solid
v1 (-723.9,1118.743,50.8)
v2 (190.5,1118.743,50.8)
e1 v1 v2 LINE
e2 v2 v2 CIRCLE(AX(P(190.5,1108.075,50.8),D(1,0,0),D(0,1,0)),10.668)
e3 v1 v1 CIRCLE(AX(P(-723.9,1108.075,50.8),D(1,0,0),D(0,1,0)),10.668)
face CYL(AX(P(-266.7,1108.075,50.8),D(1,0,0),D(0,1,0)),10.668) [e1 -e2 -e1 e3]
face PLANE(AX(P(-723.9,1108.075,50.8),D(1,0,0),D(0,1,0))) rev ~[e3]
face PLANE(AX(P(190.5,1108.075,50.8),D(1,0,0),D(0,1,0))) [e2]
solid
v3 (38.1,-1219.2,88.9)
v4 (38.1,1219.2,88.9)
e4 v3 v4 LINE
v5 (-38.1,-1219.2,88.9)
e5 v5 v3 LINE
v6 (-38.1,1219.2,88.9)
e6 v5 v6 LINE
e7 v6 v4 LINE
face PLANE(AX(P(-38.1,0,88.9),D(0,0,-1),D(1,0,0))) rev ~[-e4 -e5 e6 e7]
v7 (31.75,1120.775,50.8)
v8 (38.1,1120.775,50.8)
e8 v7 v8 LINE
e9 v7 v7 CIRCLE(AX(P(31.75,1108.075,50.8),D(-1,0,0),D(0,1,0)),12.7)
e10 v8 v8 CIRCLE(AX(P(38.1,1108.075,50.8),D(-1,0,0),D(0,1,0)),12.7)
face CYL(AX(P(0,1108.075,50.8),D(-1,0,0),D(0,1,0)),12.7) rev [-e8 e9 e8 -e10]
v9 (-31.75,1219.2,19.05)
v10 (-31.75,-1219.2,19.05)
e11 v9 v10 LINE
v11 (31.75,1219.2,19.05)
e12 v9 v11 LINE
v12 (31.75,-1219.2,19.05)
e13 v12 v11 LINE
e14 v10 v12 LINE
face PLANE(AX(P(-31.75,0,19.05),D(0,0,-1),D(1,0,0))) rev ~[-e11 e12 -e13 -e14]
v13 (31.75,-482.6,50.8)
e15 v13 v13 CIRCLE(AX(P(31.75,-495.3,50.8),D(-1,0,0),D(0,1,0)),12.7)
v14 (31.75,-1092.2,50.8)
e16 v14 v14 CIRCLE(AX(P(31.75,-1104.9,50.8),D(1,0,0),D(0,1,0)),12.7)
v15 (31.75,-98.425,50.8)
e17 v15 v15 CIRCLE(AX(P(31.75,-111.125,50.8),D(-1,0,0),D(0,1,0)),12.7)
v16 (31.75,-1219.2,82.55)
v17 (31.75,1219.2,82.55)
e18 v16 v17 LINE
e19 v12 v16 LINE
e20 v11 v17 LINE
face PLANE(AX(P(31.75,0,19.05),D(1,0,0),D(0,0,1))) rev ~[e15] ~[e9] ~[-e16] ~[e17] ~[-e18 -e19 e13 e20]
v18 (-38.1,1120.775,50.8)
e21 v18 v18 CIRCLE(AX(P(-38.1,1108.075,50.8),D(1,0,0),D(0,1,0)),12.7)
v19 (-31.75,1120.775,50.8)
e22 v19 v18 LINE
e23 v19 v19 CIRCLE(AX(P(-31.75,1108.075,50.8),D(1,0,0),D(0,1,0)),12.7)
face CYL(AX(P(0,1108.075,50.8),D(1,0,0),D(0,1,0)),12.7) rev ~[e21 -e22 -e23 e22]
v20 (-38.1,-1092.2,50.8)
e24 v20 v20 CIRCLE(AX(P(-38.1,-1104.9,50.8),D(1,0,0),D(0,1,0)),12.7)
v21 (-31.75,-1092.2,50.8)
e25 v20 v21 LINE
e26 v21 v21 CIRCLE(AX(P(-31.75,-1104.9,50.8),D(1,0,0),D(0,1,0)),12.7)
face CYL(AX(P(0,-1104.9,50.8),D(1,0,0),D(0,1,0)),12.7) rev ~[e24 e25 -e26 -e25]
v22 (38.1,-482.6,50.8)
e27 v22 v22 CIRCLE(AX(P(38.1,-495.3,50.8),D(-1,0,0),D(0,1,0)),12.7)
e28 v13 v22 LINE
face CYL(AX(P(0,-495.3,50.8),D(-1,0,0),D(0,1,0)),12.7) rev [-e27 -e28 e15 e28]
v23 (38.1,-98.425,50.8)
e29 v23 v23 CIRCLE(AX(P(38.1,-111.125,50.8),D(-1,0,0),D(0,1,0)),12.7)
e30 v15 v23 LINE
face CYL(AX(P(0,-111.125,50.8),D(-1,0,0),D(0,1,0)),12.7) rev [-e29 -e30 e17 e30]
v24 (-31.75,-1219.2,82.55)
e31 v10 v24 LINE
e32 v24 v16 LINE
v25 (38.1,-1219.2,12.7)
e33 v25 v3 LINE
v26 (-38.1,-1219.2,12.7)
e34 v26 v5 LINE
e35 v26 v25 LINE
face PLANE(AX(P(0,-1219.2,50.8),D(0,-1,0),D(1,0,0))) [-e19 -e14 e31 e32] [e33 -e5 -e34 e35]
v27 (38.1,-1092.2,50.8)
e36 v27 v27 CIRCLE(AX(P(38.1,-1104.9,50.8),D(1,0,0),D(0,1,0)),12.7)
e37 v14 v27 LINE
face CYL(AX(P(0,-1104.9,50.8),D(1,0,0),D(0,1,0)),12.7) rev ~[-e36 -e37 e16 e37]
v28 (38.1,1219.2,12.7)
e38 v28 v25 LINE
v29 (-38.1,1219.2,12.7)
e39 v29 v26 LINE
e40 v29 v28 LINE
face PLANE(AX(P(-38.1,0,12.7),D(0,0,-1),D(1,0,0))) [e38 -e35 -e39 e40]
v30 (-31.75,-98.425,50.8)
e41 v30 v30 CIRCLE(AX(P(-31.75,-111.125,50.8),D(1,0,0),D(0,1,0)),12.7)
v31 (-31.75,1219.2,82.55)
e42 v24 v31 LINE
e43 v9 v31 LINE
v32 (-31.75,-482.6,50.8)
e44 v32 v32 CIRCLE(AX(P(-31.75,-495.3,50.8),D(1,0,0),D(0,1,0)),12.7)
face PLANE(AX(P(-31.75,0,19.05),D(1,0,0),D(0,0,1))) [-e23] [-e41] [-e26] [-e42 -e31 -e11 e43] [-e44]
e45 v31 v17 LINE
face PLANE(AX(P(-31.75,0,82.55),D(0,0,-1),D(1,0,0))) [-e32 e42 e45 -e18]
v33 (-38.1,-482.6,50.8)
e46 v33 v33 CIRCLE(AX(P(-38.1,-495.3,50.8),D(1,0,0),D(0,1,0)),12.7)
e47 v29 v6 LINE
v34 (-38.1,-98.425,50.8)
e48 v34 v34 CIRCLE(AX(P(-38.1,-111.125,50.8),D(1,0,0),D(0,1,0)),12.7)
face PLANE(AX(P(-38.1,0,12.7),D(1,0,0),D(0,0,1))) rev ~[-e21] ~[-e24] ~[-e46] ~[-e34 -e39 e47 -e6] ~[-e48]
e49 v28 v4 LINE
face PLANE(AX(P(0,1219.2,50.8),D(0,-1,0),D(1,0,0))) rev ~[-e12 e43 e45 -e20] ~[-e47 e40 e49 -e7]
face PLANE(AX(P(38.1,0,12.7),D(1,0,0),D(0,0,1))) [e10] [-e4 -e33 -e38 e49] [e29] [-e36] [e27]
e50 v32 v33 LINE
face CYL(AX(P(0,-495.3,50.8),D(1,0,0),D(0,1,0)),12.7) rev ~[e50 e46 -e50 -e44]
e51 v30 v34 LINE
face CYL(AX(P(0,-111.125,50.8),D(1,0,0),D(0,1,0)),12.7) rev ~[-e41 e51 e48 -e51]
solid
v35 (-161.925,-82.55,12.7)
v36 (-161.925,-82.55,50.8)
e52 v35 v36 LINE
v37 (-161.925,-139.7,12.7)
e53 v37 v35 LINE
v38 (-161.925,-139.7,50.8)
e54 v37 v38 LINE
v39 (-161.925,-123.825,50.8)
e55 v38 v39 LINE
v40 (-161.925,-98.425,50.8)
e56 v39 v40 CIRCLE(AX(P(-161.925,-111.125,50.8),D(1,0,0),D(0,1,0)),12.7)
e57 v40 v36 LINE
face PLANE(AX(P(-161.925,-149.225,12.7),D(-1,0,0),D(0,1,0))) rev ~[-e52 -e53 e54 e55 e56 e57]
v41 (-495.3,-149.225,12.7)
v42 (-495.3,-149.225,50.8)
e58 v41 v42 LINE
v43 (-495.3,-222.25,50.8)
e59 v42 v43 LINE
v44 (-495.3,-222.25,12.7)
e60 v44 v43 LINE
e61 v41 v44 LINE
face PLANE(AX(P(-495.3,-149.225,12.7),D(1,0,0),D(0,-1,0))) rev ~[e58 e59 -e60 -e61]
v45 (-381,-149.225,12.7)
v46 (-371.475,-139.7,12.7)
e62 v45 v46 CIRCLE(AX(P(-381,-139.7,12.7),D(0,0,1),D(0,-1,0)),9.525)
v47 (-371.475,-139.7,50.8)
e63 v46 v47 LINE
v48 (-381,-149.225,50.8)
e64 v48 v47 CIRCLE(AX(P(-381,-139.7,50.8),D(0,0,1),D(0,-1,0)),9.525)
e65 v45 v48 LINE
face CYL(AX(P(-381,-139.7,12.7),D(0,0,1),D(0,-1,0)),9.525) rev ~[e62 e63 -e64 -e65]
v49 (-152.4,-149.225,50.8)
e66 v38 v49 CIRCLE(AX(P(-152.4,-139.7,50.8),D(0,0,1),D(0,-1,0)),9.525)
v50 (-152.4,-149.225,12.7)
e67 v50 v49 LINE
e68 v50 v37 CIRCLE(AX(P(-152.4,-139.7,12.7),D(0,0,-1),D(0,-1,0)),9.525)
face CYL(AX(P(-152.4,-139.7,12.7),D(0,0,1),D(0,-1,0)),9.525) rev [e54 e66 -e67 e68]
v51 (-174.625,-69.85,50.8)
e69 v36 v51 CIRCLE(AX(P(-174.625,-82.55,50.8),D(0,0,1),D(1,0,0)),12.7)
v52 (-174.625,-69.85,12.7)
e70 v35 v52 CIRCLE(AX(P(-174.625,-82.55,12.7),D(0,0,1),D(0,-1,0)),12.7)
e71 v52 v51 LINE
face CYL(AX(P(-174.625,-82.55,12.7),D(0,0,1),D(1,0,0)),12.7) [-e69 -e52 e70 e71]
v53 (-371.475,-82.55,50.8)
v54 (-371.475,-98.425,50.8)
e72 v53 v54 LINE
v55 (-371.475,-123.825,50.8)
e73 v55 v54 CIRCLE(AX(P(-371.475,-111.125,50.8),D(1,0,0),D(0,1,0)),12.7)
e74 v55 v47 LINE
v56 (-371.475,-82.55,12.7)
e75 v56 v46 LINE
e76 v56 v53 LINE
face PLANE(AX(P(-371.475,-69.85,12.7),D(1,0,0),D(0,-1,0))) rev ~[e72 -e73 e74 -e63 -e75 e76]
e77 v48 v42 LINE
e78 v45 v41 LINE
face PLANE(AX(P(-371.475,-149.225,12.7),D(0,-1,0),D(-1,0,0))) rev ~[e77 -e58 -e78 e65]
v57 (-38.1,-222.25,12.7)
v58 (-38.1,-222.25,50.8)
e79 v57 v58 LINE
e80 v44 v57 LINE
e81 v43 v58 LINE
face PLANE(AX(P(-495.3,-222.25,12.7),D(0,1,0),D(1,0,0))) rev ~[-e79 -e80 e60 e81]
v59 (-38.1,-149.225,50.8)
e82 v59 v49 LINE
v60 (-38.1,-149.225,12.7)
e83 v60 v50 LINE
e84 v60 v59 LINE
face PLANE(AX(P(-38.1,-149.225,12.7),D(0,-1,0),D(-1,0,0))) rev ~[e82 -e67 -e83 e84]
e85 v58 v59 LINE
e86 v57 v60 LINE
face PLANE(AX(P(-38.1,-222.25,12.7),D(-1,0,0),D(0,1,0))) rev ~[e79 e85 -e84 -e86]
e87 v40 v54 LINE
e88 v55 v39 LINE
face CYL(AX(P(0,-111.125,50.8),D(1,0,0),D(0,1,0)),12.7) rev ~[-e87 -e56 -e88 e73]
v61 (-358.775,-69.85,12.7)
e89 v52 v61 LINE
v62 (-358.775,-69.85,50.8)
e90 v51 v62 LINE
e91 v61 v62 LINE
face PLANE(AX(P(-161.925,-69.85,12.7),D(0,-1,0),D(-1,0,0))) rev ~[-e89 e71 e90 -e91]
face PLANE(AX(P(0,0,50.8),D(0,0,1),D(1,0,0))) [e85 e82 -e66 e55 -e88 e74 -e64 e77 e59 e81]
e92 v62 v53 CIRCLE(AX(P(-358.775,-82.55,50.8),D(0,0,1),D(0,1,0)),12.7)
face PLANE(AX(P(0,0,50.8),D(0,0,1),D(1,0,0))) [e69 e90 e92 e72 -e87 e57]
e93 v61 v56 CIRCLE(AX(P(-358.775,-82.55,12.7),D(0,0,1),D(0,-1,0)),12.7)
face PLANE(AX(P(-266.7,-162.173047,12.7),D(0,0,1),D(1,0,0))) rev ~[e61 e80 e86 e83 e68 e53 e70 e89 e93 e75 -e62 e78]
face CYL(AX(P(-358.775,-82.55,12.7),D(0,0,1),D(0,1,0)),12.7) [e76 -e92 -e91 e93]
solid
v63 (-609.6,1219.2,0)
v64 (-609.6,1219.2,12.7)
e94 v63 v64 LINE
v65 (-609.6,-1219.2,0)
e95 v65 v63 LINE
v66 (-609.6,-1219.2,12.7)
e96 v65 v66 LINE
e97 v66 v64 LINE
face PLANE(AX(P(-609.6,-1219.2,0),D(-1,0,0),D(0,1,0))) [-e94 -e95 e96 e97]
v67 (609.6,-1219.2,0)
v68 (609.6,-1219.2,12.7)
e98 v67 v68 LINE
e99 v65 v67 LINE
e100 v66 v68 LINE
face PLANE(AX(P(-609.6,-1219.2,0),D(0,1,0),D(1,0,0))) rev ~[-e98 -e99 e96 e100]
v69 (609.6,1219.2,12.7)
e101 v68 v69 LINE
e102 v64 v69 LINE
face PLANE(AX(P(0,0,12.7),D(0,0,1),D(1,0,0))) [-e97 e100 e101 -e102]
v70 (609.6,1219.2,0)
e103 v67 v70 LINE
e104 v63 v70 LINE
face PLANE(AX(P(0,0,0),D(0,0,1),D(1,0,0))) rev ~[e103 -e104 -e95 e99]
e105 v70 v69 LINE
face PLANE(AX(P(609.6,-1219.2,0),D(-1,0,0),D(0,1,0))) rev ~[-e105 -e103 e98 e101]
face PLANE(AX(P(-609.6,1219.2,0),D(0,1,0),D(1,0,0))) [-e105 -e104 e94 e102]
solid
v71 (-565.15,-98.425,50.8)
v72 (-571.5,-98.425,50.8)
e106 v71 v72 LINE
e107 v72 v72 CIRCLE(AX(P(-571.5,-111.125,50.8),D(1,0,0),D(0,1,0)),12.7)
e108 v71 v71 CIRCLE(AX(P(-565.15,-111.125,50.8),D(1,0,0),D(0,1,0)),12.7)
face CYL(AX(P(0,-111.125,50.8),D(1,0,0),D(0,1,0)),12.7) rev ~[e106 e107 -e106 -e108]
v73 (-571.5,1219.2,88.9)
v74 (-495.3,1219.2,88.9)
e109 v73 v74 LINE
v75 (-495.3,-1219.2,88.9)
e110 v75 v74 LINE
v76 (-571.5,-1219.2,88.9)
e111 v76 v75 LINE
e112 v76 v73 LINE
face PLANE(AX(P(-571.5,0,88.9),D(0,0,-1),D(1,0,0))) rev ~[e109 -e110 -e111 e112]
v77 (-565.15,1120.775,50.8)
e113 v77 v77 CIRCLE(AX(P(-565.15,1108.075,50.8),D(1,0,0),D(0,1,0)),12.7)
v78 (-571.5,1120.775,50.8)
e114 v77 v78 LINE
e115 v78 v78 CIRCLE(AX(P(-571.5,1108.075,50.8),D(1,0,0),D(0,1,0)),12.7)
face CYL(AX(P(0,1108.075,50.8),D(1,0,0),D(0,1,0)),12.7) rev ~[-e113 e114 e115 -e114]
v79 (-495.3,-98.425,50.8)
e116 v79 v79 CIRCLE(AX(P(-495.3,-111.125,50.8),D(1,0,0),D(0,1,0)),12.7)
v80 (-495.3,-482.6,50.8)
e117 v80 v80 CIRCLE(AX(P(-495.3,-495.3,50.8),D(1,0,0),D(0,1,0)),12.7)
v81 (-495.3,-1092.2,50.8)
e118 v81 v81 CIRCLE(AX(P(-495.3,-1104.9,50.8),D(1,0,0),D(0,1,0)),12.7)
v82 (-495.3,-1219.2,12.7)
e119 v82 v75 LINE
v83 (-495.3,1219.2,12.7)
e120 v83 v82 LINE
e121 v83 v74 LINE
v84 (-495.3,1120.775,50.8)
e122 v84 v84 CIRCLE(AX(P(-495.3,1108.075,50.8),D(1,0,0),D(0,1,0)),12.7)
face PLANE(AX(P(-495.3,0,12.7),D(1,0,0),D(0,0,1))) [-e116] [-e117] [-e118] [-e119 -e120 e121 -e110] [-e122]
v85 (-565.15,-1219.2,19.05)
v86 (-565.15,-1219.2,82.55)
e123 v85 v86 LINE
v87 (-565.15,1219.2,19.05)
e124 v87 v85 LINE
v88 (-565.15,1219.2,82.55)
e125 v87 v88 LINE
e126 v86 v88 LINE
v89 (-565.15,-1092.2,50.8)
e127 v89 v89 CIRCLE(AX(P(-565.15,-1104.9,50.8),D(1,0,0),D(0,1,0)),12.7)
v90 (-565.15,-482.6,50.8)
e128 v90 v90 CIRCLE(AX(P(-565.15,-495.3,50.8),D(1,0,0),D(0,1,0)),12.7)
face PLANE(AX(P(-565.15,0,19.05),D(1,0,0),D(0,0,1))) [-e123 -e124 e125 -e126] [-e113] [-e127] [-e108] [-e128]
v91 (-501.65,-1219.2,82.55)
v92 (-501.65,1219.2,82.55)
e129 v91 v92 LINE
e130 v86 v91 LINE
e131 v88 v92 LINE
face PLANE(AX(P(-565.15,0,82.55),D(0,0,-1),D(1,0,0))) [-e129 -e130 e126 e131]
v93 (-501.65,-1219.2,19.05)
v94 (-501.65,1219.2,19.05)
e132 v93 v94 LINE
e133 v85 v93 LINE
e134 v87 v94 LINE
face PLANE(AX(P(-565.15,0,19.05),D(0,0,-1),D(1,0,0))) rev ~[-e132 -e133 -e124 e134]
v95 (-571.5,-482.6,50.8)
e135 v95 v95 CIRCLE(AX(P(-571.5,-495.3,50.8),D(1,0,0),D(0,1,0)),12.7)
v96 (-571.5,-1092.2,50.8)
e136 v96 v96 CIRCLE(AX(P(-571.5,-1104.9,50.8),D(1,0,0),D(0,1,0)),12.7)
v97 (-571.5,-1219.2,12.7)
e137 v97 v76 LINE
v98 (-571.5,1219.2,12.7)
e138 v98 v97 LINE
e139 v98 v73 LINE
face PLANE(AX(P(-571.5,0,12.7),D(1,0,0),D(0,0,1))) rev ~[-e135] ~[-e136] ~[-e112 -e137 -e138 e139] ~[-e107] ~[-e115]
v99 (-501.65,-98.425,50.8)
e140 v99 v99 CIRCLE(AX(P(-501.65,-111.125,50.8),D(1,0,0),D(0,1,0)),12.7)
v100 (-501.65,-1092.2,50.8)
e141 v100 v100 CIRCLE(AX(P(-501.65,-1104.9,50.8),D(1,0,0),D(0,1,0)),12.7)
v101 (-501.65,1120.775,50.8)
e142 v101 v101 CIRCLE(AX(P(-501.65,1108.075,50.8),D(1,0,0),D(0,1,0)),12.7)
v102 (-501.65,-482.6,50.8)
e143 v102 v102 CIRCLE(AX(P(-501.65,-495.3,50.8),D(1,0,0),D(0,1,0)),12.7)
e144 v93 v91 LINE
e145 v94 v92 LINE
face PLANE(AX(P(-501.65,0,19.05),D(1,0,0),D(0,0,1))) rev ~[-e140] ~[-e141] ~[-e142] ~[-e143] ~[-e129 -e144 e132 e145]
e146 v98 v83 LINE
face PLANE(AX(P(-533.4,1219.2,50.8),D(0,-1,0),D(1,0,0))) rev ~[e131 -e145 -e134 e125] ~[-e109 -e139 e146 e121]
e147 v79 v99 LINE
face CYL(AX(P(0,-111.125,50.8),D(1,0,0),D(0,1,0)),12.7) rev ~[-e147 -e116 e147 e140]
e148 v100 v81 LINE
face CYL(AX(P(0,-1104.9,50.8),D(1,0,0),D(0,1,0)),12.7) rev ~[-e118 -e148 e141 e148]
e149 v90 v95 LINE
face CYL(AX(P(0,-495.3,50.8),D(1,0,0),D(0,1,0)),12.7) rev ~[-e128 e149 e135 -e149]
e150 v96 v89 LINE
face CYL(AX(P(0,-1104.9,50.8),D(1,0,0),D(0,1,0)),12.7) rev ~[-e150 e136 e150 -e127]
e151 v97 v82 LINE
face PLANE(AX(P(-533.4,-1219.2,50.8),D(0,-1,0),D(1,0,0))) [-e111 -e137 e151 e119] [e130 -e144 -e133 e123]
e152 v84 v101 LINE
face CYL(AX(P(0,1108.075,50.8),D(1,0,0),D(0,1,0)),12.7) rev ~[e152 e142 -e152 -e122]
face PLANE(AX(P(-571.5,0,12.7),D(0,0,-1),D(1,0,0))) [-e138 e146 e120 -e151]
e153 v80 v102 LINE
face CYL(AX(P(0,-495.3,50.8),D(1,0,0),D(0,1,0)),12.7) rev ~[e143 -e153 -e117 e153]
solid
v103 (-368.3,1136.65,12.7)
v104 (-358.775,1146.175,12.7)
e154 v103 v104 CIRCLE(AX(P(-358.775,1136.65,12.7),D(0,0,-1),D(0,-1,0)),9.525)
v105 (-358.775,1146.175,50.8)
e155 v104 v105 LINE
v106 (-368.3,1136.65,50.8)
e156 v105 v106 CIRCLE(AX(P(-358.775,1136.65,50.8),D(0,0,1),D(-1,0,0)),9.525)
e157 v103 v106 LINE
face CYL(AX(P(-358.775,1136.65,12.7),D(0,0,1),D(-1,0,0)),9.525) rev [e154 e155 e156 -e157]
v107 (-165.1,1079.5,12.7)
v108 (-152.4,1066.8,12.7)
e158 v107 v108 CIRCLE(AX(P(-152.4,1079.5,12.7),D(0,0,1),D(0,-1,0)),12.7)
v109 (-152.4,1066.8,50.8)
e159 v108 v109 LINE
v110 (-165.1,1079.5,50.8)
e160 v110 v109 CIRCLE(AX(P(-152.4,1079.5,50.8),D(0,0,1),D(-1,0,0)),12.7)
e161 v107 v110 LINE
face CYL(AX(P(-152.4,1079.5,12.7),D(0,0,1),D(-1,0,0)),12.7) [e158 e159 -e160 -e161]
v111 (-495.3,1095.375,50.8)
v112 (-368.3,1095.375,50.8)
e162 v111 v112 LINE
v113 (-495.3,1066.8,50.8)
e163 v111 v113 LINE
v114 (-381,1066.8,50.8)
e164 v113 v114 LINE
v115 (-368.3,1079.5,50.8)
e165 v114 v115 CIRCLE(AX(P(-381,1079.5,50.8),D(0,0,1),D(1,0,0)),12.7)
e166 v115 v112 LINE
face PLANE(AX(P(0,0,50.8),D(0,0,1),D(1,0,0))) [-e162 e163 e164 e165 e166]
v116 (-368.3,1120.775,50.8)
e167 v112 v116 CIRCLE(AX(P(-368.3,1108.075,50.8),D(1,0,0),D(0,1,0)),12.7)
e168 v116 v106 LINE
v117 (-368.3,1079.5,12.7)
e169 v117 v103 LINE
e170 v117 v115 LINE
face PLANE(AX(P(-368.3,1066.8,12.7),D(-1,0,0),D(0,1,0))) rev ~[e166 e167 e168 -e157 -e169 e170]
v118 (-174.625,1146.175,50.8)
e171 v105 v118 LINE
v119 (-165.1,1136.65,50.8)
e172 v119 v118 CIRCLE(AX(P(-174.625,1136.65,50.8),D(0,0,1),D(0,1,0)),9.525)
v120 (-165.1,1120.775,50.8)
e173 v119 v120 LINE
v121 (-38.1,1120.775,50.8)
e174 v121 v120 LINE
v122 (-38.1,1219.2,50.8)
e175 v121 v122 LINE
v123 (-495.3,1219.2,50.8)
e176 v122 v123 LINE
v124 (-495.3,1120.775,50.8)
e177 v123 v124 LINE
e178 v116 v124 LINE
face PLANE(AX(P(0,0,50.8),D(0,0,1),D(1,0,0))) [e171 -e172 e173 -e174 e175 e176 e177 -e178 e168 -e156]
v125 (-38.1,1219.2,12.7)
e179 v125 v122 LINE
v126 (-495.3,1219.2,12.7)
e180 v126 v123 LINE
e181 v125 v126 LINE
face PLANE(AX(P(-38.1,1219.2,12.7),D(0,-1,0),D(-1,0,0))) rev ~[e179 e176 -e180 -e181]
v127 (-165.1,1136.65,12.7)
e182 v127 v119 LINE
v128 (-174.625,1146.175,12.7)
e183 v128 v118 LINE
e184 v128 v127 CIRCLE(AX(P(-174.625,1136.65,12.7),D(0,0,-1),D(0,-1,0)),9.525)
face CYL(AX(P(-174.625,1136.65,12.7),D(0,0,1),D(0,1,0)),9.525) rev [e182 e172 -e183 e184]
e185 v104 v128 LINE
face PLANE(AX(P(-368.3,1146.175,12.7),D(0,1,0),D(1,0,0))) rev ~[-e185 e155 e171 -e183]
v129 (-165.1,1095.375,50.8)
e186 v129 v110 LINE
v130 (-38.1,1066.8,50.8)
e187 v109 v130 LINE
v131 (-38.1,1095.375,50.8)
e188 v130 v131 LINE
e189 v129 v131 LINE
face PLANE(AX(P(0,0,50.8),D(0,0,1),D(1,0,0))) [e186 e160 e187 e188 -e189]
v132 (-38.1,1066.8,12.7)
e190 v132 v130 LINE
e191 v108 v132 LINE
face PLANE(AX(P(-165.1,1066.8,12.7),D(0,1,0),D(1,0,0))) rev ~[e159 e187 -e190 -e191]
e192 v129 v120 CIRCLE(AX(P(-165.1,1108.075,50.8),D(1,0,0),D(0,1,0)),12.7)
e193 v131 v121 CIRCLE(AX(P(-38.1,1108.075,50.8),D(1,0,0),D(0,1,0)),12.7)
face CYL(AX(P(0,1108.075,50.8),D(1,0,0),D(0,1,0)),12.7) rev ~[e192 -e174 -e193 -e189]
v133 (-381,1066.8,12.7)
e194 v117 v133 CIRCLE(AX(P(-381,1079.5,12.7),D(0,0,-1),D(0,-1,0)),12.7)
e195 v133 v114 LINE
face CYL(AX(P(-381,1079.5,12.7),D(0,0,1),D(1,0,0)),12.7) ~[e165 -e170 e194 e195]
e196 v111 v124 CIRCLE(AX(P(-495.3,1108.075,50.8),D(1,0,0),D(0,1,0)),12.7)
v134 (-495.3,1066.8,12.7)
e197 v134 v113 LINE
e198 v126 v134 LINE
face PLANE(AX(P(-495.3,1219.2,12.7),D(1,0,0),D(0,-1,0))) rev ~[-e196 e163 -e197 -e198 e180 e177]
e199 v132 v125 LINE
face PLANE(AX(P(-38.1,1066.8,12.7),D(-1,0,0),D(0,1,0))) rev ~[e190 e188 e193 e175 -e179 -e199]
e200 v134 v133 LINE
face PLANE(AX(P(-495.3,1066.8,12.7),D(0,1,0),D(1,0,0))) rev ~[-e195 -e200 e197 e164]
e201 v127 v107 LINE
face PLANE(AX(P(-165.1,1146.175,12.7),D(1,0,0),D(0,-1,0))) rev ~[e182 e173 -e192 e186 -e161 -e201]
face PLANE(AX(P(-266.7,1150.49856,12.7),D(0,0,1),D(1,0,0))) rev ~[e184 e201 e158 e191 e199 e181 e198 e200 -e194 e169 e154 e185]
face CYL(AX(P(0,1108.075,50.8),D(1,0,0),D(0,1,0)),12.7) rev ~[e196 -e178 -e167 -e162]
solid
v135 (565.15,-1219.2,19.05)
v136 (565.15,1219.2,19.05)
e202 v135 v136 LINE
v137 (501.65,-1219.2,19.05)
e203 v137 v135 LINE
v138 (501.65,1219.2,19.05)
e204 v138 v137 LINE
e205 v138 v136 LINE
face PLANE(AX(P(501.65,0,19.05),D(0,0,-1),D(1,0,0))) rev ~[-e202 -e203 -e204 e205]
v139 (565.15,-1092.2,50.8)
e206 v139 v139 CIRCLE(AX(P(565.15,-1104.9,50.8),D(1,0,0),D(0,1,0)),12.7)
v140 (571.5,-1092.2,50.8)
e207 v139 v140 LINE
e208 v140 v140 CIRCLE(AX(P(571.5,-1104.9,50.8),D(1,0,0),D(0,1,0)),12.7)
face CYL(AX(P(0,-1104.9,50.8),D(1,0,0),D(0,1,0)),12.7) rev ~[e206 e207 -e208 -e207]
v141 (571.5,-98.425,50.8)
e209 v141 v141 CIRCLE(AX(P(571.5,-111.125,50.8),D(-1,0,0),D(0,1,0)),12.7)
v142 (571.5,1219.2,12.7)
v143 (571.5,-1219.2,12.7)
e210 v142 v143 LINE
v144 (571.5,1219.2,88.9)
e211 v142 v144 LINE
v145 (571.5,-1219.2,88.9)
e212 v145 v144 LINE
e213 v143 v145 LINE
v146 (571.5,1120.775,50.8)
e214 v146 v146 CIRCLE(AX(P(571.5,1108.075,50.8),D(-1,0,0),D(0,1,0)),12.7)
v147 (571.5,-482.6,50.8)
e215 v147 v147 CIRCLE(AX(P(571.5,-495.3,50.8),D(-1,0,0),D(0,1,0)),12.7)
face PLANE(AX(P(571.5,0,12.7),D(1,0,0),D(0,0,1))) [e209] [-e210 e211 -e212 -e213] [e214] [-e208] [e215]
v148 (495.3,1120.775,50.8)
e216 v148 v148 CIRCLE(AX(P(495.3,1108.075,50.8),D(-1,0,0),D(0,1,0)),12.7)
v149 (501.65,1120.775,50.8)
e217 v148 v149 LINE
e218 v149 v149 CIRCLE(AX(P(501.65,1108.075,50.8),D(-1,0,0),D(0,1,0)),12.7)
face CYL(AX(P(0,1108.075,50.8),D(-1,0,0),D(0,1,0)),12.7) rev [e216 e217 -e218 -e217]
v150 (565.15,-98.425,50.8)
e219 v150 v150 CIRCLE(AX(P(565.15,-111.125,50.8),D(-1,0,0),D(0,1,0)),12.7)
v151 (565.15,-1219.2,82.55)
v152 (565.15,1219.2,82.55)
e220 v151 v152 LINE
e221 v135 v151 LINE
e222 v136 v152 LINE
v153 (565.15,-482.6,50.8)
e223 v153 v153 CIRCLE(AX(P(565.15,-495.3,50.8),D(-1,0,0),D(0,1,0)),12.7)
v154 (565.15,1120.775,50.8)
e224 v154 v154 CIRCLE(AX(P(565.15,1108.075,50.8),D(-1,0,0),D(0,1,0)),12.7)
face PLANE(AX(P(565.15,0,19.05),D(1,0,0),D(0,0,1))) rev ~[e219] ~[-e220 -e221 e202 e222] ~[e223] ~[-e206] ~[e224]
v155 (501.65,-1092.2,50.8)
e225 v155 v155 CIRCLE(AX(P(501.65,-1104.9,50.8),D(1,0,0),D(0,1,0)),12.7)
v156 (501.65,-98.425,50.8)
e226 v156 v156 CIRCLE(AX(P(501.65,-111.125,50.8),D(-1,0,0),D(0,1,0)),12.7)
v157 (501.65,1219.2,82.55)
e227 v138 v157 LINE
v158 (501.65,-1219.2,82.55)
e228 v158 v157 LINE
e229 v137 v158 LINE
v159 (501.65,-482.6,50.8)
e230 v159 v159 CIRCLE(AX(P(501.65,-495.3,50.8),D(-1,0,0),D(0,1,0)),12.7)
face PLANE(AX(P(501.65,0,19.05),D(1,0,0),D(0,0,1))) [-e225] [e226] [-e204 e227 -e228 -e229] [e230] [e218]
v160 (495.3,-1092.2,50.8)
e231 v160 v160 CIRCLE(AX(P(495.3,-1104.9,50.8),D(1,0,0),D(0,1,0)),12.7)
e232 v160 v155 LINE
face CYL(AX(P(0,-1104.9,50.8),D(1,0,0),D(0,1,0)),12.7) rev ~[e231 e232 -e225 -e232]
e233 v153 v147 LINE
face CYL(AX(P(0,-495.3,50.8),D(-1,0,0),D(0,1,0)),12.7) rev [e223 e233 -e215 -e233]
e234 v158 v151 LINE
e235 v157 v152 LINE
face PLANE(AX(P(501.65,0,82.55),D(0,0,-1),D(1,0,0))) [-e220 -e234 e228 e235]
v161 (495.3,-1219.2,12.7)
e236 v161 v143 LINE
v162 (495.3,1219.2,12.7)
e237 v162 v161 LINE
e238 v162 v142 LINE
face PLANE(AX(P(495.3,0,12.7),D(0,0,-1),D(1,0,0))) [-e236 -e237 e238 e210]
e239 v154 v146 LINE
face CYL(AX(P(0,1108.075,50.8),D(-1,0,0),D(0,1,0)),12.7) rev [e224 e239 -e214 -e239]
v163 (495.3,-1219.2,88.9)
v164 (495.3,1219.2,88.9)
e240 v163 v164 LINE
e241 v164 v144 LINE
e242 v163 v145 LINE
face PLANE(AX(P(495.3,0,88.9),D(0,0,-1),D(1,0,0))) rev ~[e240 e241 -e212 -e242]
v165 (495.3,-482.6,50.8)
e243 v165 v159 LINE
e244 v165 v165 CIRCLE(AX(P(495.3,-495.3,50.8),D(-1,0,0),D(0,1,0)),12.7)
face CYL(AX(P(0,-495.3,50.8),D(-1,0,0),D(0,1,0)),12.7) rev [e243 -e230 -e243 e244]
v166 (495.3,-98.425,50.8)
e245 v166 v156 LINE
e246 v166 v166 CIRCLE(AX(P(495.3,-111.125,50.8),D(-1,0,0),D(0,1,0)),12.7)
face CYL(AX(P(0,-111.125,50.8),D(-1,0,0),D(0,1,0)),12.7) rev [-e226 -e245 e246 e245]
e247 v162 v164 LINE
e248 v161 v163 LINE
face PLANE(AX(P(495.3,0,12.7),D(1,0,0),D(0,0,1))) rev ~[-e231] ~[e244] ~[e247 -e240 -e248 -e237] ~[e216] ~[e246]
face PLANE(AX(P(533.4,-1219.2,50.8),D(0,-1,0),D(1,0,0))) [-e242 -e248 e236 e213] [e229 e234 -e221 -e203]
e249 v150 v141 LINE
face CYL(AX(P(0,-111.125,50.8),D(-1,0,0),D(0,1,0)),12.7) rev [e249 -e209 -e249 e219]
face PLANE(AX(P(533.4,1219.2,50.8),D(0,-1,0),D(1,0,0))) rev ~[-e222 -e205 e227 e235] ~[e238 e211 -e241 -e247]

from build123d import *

# Parameters (mm, degrees)
F0_W      = 1219.2
F0_H      = 2438.4
F1_DEPTH  = 12.7
F2_W      = 76.2
F2_H      = 76.2
F2_W_2    = 63.5
F2_H_2    = 63.5
F3_DEPTH  = 1219.2
F5_DEPTH  = 76.2
F6_R      = 12.7
F7_DEPTH  = 609.6
F8_R      = 9.525
F9_R      = 12.7
F11_R     = 10.668
F12_DEPTH = 457.2
F14_W     = 1451.5540599823
F14_H     = 2822.6795196533
F15_DEPTH = 38.101


with BuildPart() as f1:
    # F0 (on Top) → F1 (new body)
    with BuildSketch(Plane.XY):
        Rectangle(F0_W, F0_H)
    extrude(amount=F1_DEPTH)


with BuildPart() as f3:
    # F2 (on Front) → F3 (new body, symmetric)
    with BuildSketch(Plane.XZ):
        with Locations((0, 50.8)):
            Rectangle(F2_W, F2_H)
        with Locations((0, 50.8)):
            Rectangle(F2_W_2, F2_H_2, mode=Mode.SUBTRACT)
    extrude(amount=F3_DEPTH, both=True)


with BuildPart() as f3b:
    # F2 (on Front) → F3, piece 2 (new body, symmetric)
    with BuildSketch(Plane.XZ):
        with Locations((-533.4, 50.8)):
            Rectangle(F2_W, F2_H)
        with Locations((-533.4, 50.8)):
            Rectangle(F2_W_2, F2_H_2, mode=Mode.SUBTRACT)
    extrude(amount=F3_DEPTH, both=True)


with BuildPart() as f3c:
    # F2 (on Front) → F3, piece 3 (new body, symmetric)
    with BuildSketch(Plane.XZ):
        with Locations((533.4, 50.8)):
            Rectangle(F2_W, F2_H)
        with Locations((533.4, 50.8)):
            Rectangle(F2_W_2, F2_H_2, mode=Mode.SUBTRACT)
    extrude(amount=F3_DEPTH, both=True)


with BuildPart() as f5:
    # F4 (on face) → F5 (new body, through all)
    with BuildSketch(Plane.XY.offset(12.7)):
        Polygon((-495.3, 1219.2), (-495.3, 1066.8), (-368.3, 1066.8), (-368.3, 1146.175), (-165.1, 1146.175), (-165.1, 1066.8), (-38.1, 1066.8), (-38.1, 1219.2), align=None)
        Polygon((-495.3, -149.225), (-495.3, -222.25), (-38.1, -222.25), (-38.1, -149.225), (-161.925, -149.225), (-161.925, -69.85), (-371.475, -69.85), (-371.475, -149.225), align=None)
    extrude(amount=F5_DEPTH)


with BuildPart() as f7_tool:
    # F6 (on Right) → F7 (new body, symmetric)
    with BuildSketch(Plane.YZ):
        with Locations((1108.075, 50.8)):
            Circle(F6_R)
        with Locations((-111.125, 50.8)):
            Circle(F6_R)
        with Locations((-495.3, 50.8)):
            Circle(F6_R)
        with Locations((-1104.9, 50.8)):
            Circle(F6_R)
    extrude(amount=F7_DEPTH, both=True)


with BuildPart() as f3_1:
    add(f3.part)

    # F7: cut by f7_tool
    add(f7_tool.part, mode=Mode.SUBTRACT)


with BuildPart() as f3b_1:
    add(f3b.part)

    # F7: cut by f7_tool
    add(f7_tool.part, mode=Mode.SUBTRACT)


with BuildPart() as f3c_1:
    add(f3c.part)

    # F7: cut by f7_tool
    add(f7_tool.part, mode=Mode.SUBTRACT)


with BuildPart() as f5_1:
    add(f5.part)

    # F7: cut by f7_tool
    add(f7_tool.part, mode=Mode.SUBTRACT)

    # F8
    f8_edges = [f5_1.edges().sort_by_distance(p)[0] for p in [
        (-165.1, 1146.175, 50.8),
        (-368.3, 1146.175, 50.8),
        (-371.475, -149.225, 50.8),
        (-161.925, -149.225, 50.8),
    ]]
    fillet(f8_edges, radius=F8_R)

    # F9
    f9_edges = [f5_1.edges().sort_by_distance(p)[0] for p in [
        (-161.925, -69.85, 50.8),
        (-371.475, -69.85, 50.8),
        (-165.1, 1066.8, 50.8),
        (-368.3, 1066.8, 50.8),
    ]]
    fillet(f9_edges, radius=F9_R)

    # F14 (on offset) → F15 (cut, through all)
    with BuildSketch(Plane.XY.offset(50.8)):
        Rectangle(F14_W, F14_H)
    extrude(amount=F15_DEPTH, mode=Mode.SUBTRACT)


with BuildPart() as f12:
    # F11 (on offset) → F12 (new body, symmetric)
    with BuildSketch(Plane.YZ.offset(-266.7)):
        with Locations((1108.075, 50.8)):
            Circle(F11_R)
    extrude(amount=F12_DEPTH, both=True)


solid = Compound([f1.part, f3_1.part, f3b_1.part, f3c_1.part, f5_1.part, f12.part])
